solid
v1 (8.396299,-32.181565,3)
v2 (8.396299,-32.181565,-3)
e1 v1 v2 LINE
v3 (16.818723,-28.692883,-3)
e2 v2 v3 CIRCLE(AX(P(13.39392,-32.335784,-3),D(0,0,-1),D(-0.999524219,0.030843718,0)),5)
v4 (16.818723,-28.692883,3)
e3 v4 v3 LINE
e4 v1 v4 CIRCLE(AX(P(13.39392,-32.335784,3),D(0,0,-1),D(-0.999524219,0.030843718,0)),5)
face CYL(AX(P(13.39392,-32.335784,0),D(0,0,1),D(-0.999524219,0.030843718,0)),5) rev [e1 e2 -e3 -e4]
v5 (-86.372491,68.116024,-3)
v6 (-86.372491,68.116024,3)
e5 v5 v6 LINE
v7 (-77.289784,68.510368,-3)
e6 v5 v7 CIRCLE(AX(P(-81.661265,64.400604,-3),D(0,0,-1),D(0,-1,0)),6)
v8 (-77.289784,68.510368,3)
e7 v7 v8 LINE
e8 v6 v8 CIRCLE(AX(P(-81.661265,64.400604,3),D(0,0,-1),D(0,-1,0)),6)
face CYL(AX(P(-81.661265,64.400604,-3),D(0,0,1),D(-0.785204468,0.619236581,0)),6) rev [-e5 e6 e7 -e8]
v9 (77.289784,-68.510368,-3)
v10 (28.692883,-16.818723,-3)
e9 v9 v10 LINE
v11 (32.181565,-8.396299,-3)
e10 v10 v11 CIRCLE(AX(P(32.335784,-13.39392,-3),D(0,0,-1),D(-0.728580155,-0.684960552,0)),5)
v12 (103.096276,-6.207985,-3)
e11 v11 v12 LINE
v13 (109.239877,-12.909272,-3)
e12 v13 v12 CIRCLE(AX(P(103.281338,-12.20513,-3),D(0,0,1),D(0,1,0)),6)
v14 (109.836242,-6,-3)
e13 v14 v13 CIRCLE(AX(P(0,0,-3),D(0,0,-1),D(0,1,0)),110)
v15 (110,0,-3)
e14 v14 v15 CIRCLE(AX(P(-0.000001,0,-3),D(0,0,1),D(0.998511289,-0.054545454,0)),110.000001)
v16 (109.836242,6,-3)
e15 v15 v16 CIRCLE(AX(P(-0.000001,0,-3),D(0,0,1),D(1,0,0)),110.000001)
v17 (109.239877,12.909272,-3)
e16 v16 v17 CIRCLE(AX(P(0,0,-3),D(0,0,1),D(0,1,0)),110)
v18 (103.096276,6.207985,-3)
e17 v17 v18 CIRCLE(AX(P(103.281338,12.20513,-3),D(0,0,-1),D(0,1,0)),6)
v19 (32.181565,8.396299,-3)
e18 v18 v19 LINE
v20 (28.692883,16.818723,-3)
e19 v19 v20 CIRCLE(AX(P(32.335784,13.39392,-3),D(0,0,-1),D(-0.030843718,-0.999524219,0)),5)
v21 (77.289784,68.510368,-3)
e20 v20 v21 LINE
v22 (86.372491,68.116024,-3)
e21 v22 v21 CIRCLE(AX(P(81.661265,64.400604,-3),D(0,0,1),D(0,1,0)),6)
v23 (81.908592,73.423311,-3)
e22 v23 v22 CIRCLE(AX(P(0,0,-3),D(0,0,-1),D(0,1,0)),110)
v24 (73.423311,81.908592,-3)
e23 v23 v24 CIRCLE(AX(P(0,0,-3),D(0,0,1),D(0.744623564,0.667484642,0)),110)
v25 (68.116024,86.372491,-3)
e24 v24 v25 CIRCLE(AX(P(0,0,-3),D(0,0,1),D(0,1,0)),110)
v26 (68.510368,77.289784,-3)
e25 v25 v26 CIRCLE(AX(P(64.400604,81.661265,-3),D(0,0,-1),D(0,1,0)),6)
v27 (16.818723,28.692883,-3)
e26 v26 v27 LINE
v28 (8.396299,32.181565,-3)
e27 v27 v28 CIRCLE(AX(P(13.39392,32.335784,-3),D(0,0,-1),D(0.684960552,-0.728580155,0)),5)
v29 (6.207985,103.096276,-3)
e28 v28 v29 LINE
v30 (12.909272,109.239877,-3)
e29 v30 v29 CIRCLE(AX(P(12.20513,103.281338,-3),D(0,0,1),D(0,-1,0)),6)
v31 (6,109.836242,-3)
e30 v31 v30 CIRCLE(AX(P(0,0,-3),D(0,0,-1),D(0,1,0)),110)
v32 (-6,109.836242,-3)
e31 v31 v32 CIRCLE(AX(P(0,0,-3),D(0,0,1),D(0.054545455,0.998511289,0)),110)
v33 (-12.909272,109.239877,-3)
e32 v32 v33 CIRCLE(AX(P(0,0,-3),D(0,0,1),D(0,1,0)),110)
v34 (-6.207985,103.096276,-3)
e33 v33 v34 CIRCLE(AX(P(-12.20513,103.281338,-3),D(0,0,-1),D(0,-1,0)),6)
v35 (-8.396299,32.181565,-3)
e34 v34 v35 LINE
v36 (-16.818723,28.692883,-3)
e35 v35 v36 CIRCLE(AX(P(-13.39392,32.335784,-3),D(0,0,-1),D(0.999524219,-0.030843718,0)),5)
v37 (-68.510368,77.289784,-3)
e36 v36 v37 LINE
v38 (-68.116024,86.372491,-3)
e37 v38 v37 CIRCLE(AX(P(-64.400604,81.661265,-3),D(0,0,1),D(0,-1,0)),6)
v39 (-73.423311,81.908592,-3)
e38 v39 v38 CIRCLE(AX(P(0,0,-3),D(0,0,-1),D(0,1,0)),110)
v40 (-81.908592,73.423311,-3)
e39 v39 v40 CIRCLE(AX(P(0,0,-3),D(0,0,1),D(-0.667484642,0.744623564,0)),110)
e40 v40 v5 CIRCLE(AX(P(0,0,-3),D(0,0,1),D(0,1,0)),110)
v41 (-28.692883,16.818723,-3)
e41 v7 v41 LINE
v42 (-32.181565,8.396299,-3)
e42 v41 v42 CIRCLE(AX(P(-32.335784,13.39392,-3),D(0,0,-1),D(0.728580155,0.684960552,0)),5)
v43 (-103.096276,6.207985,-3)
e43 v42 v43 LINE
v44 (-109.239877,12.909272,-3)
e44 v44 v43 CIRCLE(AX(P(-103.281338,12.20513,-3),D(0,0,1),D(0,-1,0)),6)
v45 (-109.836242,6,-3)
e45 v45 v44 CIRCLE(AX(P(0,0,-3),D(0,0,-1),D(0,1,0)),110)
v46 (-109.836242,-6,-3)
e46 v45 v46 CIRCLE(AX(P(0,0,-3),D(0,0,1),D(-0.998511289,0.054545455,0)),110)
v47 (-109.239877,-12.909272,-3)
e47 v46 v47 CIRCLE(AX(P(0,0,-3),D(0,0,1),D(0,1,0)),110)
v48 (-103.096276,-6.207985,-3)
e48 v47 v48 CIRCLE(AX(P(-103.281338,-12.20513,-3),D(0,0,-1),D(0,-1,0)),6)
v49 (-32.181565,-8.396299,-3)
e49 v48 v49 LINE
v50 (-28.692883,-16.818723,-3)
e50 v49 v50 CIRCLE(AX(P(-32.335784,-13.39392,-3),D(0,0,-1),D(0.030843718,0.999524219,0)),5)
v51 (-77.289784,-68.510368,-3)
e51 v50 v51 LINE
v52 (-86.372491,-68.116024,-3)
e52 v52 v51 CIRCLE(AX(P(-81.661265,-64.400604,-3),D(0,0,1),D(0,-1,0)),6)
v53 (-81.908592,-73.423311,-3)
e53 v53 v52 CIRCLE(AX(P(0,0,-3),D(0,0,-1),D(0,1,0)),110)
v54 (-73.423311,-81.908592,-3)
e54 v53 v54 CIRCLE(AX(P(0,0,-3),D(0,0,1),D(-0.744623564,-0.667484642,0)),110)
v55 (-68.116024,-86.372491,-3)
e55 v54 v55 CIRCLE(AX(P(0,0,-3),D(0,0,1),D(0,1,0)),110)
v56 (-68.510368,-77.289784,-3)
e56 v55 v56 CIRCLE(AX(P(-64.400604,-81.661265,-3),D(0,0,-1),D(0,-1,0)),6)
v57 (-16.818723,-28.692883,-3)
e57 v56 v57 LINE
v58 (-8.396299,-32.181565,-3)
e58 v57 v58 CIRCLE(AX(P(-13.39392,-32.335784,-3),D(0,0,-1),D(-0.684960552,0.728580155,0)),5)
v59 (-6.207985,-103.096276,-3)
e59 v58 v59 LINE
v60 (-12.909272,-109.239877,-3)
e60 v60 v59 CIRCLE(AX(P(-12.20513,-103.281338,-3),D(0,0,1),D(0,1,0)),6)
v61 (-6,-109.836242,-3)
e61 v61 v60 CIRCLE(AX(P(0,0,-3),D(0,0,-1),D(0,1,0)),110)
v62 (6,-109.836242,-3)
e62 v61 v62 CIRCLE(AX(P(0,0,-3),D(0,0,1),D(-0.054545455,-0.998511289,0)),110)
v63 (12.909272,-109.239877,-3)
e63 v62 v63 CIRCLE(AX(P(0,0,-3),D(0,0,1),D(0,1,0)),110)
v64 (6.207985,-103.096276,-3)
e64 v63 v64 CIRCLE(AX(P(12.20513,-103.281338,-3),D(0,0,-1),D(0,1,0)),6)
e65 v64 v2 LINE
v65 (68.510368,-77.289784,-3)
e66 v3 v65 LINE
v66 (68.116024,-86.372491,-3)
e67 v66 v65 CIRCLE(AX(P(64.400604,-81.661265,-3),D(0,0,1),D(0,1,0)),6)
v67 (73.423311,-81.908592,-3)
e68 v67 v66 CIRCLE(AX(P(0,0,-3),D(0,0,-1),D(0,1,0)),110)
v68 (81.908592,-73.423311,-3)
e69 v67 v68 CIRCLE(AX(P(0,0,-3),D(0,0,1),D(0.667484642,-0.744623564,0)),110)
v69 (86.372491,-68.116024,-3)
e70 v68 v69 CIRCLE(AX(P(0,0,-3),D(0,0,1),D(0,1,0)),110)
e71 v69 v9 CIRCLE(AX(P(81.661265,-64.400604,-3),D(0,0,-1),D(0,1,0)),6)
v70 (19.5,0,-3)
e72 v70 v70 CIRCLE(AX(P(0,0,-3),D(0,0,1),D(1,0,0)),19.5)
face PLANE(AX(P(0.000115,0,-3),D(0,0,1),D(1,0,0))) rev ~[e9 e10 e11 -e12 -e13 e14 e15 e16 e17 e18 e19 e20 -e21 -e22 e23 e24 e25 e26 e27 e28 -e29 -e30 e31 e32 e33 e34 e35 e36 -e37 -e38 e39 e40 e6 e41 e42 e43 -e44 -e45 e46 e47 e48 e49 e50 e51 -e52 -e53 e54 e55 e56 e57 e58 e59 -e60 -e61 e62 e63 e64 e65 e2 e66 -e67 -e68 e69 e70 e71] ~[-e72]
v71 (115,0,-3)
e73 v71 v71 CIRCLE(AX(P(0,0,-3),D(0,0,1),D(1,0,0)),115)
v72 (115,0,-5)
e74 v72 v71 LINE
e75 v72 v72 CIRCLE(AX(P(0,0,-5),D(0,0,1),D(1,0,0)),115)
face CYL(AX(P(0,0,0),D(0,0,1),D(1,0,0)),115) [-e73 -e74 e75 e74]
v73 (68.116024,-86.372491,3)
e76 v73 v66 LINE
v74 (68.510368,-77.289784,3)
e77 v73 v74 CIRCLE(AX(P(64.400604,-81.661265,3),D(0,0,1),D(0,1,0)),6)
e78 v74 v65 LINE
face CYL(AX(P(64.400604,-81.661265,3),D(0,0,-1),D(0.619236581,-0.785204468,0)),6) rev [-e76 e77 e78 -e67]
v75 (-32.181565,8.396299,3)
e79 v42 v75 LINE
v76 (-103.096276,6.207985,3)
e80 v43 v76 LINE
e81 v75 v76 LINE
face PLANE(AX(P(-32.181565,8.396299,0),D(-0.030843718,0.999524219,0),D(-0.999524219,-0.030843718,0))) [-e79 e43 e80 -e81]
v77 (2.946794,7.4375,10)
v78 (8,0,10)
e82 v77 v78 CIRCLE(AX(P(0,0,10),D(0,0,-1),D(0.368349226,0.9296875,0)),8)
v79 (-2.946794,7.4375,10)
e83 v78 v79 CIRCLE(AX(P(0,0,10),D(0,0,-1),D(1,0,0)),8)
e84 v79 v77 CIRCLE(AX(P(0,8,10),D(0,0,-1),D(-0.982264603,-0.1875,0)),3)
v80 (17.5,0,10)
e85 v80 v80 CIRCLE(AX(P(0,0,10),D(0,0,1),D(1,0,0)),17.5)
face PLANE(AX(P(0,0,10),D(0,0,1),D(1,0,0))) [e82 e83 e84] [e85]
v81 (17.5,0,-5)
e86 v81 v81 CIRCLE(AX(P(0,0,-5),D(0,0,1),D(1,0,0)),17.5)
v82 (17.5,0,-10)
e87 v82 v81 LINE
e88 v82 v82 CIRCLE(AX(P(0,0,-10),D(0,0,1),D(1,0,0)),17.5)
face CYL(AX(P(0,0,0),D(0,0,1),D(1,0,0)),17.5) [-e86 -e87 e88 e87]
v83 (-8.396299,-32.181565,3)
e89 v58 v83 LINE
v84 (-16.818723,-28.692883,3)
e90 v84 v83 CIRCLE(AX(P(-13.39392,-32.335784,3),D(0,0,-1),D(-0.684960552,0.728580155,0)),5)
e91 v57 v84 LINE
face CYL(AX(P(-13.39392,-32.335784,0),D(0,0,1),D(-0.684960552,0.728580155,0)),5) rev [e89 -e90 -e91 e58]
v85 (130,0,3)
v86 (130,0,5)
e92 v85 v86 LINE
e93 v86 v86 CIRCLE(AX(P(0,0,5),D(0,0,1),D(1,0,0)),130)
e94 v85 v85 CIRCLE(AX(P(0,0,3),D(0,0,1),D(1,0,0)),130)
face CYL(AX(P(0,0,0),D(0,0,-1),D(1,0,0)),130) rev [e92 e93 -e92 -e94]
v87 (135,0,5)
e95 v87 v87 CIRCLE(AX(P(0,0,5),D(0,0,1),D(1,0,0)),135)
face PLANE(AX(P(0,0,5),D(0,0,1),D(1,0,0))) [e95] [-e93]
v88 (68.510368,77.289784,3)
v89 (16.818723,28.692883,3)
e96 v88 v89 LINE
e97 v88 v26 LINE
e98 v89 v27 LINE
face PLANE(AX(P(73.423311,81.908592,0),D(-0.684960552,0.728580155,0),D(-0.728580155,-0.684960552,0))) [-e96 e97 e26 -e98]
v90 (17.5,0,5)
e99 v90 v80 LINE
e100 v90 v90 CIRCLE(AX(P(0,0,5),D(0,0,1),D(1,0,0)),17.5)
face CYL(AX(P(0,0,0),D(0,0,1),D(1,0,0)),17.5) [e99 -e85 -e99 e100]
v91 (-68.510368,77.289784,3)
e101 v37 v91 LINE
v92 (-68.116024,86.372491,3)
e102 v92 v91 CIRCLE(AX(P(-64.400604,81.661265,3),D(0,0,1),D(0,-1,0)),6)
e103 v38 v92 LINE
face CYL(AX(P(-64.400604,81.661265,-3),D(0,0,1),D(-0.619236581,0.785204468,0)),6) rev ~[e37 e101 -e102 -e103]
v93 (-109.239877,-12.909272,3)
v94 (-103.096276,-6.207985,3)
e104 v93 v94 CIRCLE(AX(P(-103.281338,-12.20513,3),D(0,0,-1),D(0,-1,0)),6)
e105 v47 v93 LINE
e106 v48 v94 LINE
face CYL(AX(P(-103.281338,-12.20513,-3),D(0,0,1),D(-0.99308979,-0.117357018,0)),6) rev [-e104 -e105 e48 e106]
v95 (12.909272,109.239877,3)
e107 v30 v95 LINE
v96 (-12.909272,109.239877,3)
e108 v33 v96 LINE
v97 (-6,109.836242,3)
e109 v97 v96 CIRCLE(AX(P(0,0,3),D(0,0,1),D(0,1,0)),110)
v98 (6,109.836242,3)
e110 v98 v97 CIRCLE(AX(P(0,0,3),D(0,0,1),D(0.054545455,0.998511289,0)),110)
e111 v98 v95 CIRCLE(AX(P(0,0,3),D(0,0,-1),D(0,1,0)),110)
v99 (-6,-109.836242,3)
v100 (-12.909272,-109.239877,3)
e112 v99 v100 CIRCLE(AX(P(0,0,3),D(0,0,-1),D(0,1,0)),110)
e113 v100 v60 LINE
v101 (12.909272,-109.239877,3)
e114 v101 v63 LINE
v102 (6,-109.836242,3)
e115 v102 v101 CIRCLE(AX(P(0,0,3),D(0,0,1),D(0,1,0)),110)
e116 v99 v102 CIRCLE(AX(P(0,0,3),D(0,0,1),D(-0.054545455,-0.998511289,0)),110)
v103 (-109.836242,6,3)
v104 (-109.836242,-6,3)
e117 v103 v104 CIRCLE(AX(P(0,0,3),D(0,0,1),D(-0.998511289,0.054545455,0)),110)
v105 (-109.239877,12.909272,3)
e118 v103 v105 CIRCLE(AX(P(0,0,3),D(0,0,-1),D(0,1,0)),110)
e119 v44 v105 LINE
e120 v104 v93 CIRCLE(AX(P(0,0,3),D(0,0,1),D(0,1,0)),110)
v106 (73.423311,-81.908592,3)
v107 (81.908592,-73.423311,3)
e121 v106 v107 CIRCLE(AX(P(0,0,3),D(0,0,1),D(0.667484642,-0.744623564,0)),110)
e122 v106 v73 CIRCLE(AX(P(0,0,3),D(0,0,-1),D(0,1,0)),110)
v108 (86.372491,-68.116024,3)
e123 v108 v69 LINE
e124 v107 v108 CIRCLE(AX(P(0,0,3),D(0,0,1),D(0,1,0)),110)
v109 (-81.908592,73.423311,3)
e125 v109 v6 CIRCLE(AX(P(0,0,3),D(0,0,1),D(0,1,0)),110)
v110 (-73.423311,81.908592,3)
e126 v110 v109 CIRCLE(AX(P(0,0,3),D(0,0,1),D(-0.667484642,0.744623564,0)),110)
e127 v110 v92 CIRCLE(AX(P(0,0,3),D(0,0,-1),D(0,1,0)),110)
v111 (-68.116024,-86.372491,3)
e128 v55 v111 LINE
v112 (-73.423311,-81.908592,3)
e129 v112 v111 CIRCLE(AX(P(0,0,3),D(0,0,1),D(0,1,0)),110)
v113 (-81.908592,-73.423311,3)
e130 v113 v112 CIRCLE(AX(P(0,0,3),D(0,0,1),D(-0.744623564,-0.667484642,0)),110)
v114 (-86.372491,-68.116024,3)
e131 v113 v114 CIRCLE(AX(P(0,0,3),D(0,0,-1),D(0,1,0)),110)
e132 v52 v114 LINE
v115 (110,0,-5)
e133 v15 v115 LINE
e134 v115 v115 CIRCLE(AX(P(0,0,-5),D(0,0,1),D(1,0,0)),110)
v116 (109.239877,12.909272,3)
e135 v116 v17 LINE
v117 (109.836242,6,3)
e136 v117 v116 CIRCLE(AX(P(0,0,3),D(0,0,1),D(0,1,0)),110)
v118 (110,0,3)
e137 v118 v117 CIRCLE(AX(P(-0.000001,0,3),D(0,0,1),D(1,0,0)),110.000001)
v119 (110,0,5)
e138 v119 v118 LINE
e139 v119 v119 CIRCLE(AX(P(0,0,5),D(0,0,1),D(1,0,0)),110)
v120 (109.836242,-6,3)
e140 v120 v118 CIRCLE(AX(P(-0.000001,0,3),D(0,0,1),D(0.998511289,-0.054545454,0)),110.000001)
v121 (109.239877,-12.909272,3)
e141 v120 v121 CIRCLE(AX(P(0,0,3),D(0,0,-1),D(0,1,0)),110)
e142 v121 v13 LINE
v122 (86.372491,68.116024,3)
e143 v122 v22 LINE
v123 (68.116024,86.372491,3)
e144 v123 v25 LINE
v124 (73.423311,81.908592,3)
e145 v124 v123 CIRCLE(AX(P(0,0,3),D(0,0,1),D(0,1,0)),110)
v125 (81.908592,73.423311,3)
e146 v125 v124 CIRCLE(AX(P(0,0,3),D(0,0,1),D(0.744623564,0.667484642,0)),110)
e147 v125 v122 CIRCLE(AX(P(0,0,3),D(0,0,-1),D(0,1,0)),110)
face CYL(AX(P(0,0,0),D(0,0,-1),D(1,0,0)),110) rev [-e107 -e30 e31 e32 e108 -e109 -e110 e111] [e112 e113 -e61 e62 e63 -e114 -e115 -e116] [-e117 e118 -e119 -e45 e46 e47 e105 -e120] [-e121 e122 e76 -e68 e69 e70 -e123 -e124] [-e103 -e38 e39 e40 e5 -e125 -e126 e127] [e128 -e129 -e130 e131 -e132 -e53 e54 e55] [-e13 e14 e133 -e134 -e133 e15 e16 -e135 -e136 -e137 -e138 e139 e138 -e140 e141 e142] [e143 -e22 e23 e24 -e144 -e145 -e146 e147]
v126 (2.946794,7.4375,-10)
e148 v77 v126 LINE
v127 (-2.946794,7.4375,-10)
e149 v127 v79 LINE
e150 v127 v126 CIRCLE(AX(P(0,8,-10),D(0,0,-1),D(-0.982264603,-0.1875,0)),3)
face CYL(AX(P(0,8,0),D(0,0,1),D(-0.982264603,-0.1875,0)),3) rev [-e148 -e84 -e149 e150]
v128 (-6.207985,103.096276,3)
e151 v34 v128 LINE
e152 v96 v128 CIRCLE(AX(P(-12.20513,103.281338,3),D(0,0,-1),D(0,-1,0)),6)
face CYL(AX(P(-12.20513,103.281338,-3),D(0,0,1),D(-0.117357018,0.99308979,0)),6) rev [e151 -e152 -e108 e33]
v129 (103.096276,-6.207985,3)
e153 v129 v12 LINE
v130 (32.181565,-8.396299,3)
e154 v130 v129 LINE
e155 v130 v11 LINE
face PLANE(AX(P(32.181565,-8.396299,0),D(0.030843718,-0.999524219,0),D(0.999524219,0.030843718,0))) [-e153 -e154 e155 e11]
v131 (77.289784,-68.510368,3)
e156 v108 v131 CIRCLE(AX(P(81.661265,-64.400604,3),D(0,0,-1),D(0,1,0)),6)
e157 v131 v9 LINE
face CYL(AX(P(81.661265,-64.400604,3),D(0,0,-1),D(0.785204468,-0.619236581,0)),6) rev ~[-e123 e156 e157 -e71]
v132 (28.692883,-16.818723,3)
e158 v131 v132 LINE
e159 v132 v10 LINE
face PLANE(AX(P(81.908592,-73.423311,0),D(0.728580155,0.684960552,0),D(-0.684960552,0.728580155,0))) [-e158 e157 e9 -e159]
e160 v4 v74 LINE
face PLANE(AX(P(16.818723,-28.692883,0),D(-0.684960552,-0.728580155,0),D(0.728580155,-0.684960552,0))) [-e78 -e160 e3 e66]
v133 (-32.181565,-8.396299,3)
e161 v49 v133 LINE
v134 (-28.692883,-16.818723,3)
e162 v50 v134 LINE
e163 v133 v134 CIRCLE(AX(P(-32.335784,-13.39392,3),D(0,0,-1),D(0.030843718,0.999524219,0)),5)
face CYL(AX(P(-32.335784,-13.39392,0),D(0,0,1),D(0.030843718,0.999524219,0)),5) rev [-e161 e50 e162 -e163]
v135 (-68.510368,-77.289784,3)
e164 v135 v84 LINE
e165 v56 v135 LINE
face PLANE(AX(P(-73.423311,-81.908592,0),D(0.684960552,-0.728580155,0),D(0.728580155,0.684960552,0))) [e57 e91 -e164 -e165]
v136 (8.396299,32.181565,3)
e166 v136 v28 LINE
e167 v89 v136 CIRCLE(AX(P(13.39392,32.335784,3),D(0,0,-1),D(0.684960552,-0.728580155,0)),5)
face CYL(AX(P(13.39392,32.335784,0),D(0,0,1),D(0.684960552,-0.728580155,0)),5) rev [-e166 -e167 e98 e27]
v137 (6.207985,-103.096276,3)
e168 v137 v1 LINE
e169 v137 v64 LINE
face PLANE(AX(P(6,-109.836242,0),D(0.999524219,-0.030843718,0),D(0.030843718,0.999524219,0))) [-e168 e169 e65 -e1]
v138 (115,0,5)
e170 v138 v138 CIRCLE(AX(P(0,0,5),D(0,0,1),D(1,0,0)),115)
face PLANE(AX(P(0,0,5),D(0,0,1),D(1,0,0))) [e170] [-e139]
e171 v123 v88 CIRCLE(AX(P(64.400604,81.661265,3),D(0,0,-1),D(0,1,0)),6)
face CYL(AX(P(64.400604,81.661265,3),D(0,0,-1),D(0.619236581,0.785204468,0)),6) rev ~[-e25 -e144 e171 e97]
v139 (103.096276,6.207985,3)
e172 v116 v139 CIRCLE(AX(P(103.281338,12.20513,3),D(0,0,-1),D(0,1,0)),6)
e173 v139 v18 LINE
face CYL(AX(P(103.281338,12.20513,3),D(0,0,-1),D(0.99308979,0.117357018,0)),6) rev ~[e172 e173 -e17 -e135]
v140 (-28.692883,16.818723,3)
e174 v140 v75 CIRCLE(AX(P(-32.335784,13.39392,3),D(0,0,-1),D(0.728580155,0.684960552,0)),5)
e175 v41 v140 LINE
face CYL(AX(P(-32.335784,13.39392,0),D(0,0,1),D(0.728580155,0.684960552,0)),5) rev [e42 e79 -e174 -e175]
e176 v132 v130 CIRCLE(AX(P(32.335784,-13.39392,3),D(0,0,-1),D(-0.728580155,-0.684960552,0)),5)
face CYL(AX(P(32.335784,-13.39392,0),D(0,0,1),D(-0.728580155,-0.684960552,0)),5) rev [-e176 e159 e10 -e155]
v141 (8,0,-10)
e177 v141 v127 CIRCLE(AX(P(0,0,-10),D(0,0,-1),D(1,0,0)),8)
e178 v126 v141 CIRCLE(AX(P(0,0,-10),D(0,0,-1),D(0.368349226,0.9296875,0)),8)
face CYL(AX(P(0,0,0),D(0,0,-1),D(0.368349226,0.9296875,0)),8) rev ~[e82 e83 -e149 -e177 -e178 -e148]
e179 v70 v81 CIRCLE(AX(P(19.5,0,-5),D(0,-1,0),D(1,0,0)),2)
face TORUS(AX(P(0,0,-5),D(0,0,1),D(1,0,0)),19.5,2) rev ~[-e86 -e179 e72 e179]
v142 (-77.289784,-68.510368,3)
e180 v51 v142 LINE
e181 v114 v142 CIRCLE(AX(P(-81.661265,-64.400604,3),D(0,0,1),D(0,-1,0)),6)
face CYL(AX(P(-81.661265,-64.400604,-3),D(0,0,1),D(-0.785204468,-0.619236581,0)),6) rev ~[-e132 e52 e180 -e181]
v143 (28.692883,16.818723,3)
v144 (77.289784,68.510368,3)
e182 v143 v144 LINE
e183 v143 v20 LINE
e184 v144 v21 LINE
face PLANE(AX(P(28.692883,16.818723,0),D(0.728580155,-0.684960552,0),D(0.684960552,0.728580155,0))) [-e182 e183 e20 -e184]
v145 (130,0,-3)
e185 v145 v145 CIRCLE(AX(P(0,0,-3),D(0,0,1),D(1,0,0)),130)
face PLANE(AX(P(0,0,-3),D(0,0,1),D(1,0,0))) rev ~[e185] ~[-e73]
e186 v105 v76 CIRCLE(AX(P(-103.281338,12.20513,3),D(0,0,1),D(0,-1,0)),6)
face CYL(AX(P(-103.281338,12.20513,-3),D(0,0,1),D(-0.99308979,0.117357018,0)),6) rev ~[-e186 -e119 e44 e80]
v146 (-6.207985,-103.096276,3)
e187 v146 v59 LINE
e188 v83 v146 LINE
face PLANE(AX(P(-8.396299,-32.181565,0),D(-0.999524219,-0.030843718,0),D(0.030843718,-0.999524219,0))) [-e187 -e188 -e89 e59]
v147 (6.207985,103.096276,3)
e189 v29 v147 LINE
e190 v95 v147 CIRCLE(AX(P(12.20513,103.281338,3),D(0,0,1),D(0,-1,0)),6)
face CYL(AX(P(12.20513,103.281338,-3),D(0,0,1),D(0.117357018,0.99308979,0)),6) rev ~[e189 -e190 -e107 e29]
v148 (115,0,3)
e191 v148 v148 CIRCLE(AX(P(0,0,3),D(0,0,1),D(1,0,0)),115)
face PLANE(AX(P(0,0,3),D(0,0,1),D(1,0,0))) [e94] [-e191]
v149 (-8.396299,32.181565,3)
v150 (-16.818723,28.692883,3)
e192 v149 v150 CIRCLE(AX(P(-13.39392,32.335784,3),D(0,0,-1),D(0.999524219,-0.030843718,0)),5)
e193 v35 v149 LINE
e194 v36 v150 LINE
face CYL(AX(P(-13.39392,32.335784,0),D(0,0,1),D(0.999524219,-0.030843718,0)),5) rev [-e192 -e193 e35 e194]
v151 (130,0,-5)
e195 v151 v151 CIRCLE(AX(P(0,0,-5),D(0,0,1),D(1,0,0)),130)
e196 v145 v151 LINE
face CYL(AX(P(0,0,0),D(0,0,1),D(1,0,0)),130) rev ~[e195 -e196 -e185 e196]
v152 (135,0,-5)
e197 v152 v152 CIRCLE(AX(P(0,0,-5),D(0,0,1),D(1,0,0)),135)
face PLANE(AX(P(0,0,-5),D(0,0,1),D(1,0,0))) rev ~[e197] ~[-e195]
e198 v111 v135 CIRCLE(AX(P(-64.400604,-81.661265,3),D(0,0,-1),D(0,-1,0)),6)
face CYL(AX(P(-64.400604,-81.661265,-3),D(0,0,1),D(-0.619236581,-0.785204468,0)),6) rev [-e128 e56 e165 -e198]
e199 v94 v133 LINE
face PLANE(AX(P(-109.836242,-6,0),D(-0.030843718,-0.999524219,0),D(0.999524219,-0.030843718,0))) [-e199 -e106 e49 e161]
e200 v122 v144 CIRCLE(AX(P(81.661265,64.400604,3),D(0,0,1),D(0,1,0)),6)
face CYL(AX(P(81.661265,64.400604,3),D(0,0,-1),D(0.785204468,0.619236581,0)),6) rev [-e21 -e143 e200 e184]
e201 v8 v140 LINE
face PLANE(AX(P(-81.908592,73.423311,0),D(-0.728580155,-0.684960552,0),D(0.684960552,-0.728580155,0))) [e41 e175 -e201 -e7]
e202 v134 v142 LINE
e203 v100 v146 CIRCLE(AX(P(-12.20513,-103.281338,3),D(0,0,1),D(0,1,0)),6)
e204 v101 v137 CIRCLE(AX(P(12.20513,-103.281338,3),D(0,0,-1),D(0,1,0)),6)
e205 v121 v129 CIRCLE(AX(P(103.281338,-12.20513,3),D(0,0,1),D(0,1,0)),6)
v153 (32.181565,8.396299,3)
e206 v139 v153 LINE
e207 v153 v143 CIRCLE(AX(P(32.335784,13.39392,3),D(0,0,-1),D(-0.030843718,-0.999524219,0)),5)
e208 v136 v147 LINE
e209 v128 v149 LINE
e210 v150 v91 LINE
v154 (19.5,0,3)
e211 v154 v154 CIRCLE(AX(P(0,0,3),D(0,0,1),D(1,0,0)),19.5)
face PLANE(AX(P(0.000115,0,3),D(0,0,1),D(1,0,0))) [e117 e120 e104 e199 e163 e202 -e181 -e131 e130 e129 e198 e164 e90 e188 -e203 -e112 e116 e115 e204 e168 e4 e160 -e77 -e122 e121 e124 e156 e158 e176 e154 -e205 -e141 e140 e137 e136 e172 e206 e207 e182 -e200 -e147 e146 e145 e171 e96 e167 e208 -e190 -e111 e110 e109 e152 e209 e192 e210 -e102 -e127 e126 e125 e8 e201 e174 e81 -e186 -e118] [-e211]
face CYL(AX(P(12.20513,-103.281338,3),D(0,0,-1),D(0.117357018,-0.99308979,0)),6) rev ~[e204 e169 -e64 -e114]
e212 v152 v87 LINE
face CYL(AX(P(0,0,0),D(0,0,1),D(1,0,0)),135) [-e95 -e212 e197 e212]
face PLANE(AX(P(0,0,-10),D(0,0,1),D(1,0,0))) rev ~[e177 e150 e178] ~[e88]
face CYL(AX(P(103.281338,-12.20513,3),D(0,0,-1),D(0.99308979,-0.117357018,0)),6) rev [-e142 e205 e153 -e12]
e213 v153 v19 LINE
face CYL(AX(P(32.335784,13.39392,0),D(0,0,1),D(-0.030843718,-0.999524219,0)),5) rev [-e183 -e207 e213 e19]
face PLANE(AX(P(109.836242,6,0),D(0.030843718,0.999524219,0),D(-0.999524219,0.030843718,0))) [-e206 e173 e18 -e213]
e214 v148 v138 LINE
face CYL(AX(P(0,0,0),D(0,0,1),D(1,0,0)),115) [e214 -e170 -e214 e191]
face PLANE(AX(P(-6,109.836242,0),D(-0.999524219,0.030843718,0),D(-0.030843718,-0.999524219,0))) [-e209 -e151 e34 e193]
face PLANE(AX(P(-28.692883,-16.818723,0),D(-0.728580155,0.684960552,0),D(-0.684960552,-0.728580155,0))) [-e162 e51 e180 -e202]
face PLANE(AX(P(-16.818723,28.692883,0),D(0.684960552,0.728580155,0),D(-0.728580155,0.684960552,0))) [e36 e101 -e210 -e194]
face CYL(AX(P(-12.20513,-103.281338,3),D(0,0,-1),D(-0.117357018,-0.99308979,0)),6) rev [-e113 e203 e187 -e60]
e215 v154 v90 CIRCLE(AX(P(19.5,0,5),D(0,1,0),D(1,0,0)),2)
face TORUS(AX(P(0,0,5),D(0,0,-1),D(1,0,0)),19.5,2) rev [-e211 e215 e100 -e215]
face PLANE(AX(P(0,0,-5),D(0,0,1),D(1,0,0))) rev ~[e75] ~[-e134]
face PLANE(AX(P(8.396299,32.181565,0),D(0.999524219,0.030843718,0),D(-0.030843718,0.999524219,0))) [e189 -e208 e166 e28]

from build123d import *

# Parameters (mm, degrees)
SKETCH1_R           = 17.5
BOSS_EXTRUDE1_DEPTH = 10
SKETCH1_4_R         = 130
SKETCH1_4_R_2       = 115
SKETCH1_4_R_3       = 17.5
BOSS_EXTRUDE3_DEPTH = 3
SKETCH1_5_R         = 135
SKETCH1_5_R_2       = 130
SKETCH1_5_R_3       = 115
SKETCH1_5_R_4       = 110
BOSS_EXTRUDE4_DEPTH = 5
FILLET1_R           = 6
FILLET2_R           = 2


with BuildPart() as part:
    # Sketch1 → Boss-Extrude1 (new, symmetric)
    with BuildSketch(Plane.XY):
        Circle(SKETCH1_R)
        with BuildLine():
            ThreePointArc((2.946793809, 7.4375), (6.617187865, 4.495867521), (8, 0))
            ThreePointArc((8, 0), (-4.495867521, -6.617187865), (-2.946793809, 7.4375))
            ThreePointArc((-2.946793809, 7.4375), (0, 11), (2.946793809, 7.4375))
        make_face(mode=Mode.SUBTRACT)
    extrude(amount=BOSS_EXTRUDE1_DEPTH, both=True)

    # Sketch1<4> → Boss-Extrude3 (add, symmetric)
    # profile 1 of 2: a face of its own
    with BuildSketch(Plane.XY):
        Circle(SKETCH1_4_R)
        Circle(SKETCH1_4_R_2, mode=Mode.SUBTRACT)
    # profile 2 of 2: a face of its own
    with BuildSketch(Plane.XY):
        with BuildLine():
            Line((8.396299036, 32.18156505), (6, 109.836241742))
            ThreePointArc((6, 109.836241742), (0, 110), (-6, 109.836241742))
            Line((-6, 109.836241742), (-8.396299036, 32.18156505))
            ThreePointArc((-8.396299036, 32.18156505), (-11.480502971, 27.716385975), (-16.818722891, 28.692882861))
            Line((-16.818722891, 28.692882861), (-73.423310669, 81.908592043))
            ThreePointArc((-73.423310669, 81.908592043), (-77.781745931, 77.781745931), (-81.908592043, 73.423310669))
            Line((-81.908592043, 73.423310669), (-28.692882861, 16.818722891))
            ThreePointArc((-28.692882861, 16.818722891), (-27.716385975, 11.480502971), (-32.18156505, 8.396299036))
            Line((-32.18156505, 8.396299036), (-109.836241742, 6))
            ThreePointArc((-109.836241742, 6), (-110, 0), (-109.836241742, -6))
            Line((-109.836241742, -6), (-32.18156505, -8.396299036))
            ThreePointArc((-32.18156505, -8.396299036), (-27.716385975, -11.480502971), (-28.692882861, -16.818722891))
            Line((-28.692882861, -16.818722891), (-81.908592043, -73.423310669))
            ThreePointArc((-81.908592043, -73.423310669), (-77.781745931, -77.781745931), (-73.423310669, -81.908592043))
            Line((-73.423310669, -81.908592043), (-16.818722891, -28.692882861))
            ThreePointArc((-16.818722891, -28.692882861), (-11.480502971, -27.716385975), (-8.396299036, -32.18156505))
            Line((-8.396299036, -32.18156505), (-6, -109.836241742))
            ThreePointArc((-6, -109.836241742), (0, -110), (6, -109.836241742))
            Line((6, -109.836241742), (8.396299036, -32.18156505))
            ThreePointArc((8.396299036, -32.18156505), (11.480502971, -27.716385975), (16.818722891, -28.692882861))
            Line((16.818722891, -28.692882861), (73.423310669, -81.908592043))
            ThreePointArc((73.423310669, -81.908592043), (77.781745931, -77.781745931), (81.908592043, -73.423310669))
            Line((81.908592043, -73.423310669), (28.692882861, -16.818722891))
            ThreePointArc((28.692882861, -16.818722891), (27.716385975, -11.480502971), (32.18156505, -8.396299036))
            Line((32.18156505, -8.396299036), (109.836241742, -6))
            ThreePointArc((109.836241742, -6), (110, 0), (109.836241742, 6))
            Line((109.836241742, 6), (32.18156505, 8.396299036))
            ThreePointArc((32.18156505, 8.396299036), (27.716385975, 11.480502971), (28.692882861, 16.818722891))
            Line((28.692882861, 16.818722891), (81.908592043, 73.423310669))
            ThreePointArc((81.908592043, 73.423310669), (77.781745931, 77.781745931), (73.423310669, 81.908592043))
            Line((73.423310669, 81.908592043), (16.818722891, 28.692882861))
            ThreePointArc((16.818722891, 28.692882861), (11.480502971, 27.716385975), (8.396299036, 32.18156505))
        make_face()
        Circle(SKETCH1_4_R_3, mode=Mode.SUBTRACT)
    extrude(amount=BOSS_EXTRUDE3_DEPTH, both=True)


with BuildPart() as boss_extrude3_piece_1:
    # of the separate pieces the step leaves, piece 1, a body of its own (boss_extrude3_pieces)
    add(part.part.solids().sort_by_distance((17.5, 0, -10))[0])



with BuildPart() as boss_extrude3_piece_2:
    # of the separate pieces the step leaves, piece 2, a body of its own (boss_extrude3_pieces)
    add(part.part.solids().sort_by_distance((130, 0, -3))[0])


with BuildPart() as boss_extrude3_piece_1_1:
    add(boss_extrude3_piece_1.part)

    add(boss_extrude3_piece_2.part)  # Boss-Extrude4 merges Boss-Extrude3 piece 2
    # Sketch1<5> → Boss-Extrude4 (add, symmetric)
    # profile 1 of 2: a face of its own
    with BuildSketch(Plane.XY):
        Circle(SKETCH1_5_R)
        Circle(SKETCH1_5_R_2, mode=Mode.SUBTRACT)
    # profile 2 of 2: a face of its own
    with BuildSketch(Plane.XY):
        Circle(SKETCH1_5_R_3)
        Circle(SKETCH1_5_R_4, mode=Mode.SUBTRACT)
    extrude(amount=BOSS_EXTRUDE4_DEPTH, both=True)

    # Fillet1
    fillet1_edges = [boss_extrude3_piece_1_1.edges().sort_by_distance(p)[0] for p in [
        (-73.423310669, 81.908592043, 0),
        (-81.908592043, 73.423310669, 0),
        (-109.836241742, -6, 0),
        (-109.836241742, 6, 0),
        (-81.908592043, -73.423310669, 0),
        (-73.423310669, -81.908592043, 0),
        (-6, -109.836241742, 0),
        (6, -109.836241742, 0),
        (81.908592043, -73.423310669, 0),
        (73.423310669, -81.908592043, 0),
        (109.836241742, 6, 0),
        (109.836241742, -6, 0),
        (73.423310669, 81.908592043, 0),
        (81.908592043, 73.423310669, 0),
        (6, 109.836241742, 0),
        (-6, 109.836241742, 0),
    ]]
    fillet(fillet1_edges, radius=FILLET1_R)

    # Fillet2
    fillet2_edges = [boss_extrude3_piece_1_1.edges().sort_by_distance(p)[0] for p in [
        (-17.5, 0, 3),
        (-17.5, 0, -3),
    ]]
    fillet(fillet2_edges, radius=FILLET2_R)


solid = boss_extrude3_piece_1_1.part
